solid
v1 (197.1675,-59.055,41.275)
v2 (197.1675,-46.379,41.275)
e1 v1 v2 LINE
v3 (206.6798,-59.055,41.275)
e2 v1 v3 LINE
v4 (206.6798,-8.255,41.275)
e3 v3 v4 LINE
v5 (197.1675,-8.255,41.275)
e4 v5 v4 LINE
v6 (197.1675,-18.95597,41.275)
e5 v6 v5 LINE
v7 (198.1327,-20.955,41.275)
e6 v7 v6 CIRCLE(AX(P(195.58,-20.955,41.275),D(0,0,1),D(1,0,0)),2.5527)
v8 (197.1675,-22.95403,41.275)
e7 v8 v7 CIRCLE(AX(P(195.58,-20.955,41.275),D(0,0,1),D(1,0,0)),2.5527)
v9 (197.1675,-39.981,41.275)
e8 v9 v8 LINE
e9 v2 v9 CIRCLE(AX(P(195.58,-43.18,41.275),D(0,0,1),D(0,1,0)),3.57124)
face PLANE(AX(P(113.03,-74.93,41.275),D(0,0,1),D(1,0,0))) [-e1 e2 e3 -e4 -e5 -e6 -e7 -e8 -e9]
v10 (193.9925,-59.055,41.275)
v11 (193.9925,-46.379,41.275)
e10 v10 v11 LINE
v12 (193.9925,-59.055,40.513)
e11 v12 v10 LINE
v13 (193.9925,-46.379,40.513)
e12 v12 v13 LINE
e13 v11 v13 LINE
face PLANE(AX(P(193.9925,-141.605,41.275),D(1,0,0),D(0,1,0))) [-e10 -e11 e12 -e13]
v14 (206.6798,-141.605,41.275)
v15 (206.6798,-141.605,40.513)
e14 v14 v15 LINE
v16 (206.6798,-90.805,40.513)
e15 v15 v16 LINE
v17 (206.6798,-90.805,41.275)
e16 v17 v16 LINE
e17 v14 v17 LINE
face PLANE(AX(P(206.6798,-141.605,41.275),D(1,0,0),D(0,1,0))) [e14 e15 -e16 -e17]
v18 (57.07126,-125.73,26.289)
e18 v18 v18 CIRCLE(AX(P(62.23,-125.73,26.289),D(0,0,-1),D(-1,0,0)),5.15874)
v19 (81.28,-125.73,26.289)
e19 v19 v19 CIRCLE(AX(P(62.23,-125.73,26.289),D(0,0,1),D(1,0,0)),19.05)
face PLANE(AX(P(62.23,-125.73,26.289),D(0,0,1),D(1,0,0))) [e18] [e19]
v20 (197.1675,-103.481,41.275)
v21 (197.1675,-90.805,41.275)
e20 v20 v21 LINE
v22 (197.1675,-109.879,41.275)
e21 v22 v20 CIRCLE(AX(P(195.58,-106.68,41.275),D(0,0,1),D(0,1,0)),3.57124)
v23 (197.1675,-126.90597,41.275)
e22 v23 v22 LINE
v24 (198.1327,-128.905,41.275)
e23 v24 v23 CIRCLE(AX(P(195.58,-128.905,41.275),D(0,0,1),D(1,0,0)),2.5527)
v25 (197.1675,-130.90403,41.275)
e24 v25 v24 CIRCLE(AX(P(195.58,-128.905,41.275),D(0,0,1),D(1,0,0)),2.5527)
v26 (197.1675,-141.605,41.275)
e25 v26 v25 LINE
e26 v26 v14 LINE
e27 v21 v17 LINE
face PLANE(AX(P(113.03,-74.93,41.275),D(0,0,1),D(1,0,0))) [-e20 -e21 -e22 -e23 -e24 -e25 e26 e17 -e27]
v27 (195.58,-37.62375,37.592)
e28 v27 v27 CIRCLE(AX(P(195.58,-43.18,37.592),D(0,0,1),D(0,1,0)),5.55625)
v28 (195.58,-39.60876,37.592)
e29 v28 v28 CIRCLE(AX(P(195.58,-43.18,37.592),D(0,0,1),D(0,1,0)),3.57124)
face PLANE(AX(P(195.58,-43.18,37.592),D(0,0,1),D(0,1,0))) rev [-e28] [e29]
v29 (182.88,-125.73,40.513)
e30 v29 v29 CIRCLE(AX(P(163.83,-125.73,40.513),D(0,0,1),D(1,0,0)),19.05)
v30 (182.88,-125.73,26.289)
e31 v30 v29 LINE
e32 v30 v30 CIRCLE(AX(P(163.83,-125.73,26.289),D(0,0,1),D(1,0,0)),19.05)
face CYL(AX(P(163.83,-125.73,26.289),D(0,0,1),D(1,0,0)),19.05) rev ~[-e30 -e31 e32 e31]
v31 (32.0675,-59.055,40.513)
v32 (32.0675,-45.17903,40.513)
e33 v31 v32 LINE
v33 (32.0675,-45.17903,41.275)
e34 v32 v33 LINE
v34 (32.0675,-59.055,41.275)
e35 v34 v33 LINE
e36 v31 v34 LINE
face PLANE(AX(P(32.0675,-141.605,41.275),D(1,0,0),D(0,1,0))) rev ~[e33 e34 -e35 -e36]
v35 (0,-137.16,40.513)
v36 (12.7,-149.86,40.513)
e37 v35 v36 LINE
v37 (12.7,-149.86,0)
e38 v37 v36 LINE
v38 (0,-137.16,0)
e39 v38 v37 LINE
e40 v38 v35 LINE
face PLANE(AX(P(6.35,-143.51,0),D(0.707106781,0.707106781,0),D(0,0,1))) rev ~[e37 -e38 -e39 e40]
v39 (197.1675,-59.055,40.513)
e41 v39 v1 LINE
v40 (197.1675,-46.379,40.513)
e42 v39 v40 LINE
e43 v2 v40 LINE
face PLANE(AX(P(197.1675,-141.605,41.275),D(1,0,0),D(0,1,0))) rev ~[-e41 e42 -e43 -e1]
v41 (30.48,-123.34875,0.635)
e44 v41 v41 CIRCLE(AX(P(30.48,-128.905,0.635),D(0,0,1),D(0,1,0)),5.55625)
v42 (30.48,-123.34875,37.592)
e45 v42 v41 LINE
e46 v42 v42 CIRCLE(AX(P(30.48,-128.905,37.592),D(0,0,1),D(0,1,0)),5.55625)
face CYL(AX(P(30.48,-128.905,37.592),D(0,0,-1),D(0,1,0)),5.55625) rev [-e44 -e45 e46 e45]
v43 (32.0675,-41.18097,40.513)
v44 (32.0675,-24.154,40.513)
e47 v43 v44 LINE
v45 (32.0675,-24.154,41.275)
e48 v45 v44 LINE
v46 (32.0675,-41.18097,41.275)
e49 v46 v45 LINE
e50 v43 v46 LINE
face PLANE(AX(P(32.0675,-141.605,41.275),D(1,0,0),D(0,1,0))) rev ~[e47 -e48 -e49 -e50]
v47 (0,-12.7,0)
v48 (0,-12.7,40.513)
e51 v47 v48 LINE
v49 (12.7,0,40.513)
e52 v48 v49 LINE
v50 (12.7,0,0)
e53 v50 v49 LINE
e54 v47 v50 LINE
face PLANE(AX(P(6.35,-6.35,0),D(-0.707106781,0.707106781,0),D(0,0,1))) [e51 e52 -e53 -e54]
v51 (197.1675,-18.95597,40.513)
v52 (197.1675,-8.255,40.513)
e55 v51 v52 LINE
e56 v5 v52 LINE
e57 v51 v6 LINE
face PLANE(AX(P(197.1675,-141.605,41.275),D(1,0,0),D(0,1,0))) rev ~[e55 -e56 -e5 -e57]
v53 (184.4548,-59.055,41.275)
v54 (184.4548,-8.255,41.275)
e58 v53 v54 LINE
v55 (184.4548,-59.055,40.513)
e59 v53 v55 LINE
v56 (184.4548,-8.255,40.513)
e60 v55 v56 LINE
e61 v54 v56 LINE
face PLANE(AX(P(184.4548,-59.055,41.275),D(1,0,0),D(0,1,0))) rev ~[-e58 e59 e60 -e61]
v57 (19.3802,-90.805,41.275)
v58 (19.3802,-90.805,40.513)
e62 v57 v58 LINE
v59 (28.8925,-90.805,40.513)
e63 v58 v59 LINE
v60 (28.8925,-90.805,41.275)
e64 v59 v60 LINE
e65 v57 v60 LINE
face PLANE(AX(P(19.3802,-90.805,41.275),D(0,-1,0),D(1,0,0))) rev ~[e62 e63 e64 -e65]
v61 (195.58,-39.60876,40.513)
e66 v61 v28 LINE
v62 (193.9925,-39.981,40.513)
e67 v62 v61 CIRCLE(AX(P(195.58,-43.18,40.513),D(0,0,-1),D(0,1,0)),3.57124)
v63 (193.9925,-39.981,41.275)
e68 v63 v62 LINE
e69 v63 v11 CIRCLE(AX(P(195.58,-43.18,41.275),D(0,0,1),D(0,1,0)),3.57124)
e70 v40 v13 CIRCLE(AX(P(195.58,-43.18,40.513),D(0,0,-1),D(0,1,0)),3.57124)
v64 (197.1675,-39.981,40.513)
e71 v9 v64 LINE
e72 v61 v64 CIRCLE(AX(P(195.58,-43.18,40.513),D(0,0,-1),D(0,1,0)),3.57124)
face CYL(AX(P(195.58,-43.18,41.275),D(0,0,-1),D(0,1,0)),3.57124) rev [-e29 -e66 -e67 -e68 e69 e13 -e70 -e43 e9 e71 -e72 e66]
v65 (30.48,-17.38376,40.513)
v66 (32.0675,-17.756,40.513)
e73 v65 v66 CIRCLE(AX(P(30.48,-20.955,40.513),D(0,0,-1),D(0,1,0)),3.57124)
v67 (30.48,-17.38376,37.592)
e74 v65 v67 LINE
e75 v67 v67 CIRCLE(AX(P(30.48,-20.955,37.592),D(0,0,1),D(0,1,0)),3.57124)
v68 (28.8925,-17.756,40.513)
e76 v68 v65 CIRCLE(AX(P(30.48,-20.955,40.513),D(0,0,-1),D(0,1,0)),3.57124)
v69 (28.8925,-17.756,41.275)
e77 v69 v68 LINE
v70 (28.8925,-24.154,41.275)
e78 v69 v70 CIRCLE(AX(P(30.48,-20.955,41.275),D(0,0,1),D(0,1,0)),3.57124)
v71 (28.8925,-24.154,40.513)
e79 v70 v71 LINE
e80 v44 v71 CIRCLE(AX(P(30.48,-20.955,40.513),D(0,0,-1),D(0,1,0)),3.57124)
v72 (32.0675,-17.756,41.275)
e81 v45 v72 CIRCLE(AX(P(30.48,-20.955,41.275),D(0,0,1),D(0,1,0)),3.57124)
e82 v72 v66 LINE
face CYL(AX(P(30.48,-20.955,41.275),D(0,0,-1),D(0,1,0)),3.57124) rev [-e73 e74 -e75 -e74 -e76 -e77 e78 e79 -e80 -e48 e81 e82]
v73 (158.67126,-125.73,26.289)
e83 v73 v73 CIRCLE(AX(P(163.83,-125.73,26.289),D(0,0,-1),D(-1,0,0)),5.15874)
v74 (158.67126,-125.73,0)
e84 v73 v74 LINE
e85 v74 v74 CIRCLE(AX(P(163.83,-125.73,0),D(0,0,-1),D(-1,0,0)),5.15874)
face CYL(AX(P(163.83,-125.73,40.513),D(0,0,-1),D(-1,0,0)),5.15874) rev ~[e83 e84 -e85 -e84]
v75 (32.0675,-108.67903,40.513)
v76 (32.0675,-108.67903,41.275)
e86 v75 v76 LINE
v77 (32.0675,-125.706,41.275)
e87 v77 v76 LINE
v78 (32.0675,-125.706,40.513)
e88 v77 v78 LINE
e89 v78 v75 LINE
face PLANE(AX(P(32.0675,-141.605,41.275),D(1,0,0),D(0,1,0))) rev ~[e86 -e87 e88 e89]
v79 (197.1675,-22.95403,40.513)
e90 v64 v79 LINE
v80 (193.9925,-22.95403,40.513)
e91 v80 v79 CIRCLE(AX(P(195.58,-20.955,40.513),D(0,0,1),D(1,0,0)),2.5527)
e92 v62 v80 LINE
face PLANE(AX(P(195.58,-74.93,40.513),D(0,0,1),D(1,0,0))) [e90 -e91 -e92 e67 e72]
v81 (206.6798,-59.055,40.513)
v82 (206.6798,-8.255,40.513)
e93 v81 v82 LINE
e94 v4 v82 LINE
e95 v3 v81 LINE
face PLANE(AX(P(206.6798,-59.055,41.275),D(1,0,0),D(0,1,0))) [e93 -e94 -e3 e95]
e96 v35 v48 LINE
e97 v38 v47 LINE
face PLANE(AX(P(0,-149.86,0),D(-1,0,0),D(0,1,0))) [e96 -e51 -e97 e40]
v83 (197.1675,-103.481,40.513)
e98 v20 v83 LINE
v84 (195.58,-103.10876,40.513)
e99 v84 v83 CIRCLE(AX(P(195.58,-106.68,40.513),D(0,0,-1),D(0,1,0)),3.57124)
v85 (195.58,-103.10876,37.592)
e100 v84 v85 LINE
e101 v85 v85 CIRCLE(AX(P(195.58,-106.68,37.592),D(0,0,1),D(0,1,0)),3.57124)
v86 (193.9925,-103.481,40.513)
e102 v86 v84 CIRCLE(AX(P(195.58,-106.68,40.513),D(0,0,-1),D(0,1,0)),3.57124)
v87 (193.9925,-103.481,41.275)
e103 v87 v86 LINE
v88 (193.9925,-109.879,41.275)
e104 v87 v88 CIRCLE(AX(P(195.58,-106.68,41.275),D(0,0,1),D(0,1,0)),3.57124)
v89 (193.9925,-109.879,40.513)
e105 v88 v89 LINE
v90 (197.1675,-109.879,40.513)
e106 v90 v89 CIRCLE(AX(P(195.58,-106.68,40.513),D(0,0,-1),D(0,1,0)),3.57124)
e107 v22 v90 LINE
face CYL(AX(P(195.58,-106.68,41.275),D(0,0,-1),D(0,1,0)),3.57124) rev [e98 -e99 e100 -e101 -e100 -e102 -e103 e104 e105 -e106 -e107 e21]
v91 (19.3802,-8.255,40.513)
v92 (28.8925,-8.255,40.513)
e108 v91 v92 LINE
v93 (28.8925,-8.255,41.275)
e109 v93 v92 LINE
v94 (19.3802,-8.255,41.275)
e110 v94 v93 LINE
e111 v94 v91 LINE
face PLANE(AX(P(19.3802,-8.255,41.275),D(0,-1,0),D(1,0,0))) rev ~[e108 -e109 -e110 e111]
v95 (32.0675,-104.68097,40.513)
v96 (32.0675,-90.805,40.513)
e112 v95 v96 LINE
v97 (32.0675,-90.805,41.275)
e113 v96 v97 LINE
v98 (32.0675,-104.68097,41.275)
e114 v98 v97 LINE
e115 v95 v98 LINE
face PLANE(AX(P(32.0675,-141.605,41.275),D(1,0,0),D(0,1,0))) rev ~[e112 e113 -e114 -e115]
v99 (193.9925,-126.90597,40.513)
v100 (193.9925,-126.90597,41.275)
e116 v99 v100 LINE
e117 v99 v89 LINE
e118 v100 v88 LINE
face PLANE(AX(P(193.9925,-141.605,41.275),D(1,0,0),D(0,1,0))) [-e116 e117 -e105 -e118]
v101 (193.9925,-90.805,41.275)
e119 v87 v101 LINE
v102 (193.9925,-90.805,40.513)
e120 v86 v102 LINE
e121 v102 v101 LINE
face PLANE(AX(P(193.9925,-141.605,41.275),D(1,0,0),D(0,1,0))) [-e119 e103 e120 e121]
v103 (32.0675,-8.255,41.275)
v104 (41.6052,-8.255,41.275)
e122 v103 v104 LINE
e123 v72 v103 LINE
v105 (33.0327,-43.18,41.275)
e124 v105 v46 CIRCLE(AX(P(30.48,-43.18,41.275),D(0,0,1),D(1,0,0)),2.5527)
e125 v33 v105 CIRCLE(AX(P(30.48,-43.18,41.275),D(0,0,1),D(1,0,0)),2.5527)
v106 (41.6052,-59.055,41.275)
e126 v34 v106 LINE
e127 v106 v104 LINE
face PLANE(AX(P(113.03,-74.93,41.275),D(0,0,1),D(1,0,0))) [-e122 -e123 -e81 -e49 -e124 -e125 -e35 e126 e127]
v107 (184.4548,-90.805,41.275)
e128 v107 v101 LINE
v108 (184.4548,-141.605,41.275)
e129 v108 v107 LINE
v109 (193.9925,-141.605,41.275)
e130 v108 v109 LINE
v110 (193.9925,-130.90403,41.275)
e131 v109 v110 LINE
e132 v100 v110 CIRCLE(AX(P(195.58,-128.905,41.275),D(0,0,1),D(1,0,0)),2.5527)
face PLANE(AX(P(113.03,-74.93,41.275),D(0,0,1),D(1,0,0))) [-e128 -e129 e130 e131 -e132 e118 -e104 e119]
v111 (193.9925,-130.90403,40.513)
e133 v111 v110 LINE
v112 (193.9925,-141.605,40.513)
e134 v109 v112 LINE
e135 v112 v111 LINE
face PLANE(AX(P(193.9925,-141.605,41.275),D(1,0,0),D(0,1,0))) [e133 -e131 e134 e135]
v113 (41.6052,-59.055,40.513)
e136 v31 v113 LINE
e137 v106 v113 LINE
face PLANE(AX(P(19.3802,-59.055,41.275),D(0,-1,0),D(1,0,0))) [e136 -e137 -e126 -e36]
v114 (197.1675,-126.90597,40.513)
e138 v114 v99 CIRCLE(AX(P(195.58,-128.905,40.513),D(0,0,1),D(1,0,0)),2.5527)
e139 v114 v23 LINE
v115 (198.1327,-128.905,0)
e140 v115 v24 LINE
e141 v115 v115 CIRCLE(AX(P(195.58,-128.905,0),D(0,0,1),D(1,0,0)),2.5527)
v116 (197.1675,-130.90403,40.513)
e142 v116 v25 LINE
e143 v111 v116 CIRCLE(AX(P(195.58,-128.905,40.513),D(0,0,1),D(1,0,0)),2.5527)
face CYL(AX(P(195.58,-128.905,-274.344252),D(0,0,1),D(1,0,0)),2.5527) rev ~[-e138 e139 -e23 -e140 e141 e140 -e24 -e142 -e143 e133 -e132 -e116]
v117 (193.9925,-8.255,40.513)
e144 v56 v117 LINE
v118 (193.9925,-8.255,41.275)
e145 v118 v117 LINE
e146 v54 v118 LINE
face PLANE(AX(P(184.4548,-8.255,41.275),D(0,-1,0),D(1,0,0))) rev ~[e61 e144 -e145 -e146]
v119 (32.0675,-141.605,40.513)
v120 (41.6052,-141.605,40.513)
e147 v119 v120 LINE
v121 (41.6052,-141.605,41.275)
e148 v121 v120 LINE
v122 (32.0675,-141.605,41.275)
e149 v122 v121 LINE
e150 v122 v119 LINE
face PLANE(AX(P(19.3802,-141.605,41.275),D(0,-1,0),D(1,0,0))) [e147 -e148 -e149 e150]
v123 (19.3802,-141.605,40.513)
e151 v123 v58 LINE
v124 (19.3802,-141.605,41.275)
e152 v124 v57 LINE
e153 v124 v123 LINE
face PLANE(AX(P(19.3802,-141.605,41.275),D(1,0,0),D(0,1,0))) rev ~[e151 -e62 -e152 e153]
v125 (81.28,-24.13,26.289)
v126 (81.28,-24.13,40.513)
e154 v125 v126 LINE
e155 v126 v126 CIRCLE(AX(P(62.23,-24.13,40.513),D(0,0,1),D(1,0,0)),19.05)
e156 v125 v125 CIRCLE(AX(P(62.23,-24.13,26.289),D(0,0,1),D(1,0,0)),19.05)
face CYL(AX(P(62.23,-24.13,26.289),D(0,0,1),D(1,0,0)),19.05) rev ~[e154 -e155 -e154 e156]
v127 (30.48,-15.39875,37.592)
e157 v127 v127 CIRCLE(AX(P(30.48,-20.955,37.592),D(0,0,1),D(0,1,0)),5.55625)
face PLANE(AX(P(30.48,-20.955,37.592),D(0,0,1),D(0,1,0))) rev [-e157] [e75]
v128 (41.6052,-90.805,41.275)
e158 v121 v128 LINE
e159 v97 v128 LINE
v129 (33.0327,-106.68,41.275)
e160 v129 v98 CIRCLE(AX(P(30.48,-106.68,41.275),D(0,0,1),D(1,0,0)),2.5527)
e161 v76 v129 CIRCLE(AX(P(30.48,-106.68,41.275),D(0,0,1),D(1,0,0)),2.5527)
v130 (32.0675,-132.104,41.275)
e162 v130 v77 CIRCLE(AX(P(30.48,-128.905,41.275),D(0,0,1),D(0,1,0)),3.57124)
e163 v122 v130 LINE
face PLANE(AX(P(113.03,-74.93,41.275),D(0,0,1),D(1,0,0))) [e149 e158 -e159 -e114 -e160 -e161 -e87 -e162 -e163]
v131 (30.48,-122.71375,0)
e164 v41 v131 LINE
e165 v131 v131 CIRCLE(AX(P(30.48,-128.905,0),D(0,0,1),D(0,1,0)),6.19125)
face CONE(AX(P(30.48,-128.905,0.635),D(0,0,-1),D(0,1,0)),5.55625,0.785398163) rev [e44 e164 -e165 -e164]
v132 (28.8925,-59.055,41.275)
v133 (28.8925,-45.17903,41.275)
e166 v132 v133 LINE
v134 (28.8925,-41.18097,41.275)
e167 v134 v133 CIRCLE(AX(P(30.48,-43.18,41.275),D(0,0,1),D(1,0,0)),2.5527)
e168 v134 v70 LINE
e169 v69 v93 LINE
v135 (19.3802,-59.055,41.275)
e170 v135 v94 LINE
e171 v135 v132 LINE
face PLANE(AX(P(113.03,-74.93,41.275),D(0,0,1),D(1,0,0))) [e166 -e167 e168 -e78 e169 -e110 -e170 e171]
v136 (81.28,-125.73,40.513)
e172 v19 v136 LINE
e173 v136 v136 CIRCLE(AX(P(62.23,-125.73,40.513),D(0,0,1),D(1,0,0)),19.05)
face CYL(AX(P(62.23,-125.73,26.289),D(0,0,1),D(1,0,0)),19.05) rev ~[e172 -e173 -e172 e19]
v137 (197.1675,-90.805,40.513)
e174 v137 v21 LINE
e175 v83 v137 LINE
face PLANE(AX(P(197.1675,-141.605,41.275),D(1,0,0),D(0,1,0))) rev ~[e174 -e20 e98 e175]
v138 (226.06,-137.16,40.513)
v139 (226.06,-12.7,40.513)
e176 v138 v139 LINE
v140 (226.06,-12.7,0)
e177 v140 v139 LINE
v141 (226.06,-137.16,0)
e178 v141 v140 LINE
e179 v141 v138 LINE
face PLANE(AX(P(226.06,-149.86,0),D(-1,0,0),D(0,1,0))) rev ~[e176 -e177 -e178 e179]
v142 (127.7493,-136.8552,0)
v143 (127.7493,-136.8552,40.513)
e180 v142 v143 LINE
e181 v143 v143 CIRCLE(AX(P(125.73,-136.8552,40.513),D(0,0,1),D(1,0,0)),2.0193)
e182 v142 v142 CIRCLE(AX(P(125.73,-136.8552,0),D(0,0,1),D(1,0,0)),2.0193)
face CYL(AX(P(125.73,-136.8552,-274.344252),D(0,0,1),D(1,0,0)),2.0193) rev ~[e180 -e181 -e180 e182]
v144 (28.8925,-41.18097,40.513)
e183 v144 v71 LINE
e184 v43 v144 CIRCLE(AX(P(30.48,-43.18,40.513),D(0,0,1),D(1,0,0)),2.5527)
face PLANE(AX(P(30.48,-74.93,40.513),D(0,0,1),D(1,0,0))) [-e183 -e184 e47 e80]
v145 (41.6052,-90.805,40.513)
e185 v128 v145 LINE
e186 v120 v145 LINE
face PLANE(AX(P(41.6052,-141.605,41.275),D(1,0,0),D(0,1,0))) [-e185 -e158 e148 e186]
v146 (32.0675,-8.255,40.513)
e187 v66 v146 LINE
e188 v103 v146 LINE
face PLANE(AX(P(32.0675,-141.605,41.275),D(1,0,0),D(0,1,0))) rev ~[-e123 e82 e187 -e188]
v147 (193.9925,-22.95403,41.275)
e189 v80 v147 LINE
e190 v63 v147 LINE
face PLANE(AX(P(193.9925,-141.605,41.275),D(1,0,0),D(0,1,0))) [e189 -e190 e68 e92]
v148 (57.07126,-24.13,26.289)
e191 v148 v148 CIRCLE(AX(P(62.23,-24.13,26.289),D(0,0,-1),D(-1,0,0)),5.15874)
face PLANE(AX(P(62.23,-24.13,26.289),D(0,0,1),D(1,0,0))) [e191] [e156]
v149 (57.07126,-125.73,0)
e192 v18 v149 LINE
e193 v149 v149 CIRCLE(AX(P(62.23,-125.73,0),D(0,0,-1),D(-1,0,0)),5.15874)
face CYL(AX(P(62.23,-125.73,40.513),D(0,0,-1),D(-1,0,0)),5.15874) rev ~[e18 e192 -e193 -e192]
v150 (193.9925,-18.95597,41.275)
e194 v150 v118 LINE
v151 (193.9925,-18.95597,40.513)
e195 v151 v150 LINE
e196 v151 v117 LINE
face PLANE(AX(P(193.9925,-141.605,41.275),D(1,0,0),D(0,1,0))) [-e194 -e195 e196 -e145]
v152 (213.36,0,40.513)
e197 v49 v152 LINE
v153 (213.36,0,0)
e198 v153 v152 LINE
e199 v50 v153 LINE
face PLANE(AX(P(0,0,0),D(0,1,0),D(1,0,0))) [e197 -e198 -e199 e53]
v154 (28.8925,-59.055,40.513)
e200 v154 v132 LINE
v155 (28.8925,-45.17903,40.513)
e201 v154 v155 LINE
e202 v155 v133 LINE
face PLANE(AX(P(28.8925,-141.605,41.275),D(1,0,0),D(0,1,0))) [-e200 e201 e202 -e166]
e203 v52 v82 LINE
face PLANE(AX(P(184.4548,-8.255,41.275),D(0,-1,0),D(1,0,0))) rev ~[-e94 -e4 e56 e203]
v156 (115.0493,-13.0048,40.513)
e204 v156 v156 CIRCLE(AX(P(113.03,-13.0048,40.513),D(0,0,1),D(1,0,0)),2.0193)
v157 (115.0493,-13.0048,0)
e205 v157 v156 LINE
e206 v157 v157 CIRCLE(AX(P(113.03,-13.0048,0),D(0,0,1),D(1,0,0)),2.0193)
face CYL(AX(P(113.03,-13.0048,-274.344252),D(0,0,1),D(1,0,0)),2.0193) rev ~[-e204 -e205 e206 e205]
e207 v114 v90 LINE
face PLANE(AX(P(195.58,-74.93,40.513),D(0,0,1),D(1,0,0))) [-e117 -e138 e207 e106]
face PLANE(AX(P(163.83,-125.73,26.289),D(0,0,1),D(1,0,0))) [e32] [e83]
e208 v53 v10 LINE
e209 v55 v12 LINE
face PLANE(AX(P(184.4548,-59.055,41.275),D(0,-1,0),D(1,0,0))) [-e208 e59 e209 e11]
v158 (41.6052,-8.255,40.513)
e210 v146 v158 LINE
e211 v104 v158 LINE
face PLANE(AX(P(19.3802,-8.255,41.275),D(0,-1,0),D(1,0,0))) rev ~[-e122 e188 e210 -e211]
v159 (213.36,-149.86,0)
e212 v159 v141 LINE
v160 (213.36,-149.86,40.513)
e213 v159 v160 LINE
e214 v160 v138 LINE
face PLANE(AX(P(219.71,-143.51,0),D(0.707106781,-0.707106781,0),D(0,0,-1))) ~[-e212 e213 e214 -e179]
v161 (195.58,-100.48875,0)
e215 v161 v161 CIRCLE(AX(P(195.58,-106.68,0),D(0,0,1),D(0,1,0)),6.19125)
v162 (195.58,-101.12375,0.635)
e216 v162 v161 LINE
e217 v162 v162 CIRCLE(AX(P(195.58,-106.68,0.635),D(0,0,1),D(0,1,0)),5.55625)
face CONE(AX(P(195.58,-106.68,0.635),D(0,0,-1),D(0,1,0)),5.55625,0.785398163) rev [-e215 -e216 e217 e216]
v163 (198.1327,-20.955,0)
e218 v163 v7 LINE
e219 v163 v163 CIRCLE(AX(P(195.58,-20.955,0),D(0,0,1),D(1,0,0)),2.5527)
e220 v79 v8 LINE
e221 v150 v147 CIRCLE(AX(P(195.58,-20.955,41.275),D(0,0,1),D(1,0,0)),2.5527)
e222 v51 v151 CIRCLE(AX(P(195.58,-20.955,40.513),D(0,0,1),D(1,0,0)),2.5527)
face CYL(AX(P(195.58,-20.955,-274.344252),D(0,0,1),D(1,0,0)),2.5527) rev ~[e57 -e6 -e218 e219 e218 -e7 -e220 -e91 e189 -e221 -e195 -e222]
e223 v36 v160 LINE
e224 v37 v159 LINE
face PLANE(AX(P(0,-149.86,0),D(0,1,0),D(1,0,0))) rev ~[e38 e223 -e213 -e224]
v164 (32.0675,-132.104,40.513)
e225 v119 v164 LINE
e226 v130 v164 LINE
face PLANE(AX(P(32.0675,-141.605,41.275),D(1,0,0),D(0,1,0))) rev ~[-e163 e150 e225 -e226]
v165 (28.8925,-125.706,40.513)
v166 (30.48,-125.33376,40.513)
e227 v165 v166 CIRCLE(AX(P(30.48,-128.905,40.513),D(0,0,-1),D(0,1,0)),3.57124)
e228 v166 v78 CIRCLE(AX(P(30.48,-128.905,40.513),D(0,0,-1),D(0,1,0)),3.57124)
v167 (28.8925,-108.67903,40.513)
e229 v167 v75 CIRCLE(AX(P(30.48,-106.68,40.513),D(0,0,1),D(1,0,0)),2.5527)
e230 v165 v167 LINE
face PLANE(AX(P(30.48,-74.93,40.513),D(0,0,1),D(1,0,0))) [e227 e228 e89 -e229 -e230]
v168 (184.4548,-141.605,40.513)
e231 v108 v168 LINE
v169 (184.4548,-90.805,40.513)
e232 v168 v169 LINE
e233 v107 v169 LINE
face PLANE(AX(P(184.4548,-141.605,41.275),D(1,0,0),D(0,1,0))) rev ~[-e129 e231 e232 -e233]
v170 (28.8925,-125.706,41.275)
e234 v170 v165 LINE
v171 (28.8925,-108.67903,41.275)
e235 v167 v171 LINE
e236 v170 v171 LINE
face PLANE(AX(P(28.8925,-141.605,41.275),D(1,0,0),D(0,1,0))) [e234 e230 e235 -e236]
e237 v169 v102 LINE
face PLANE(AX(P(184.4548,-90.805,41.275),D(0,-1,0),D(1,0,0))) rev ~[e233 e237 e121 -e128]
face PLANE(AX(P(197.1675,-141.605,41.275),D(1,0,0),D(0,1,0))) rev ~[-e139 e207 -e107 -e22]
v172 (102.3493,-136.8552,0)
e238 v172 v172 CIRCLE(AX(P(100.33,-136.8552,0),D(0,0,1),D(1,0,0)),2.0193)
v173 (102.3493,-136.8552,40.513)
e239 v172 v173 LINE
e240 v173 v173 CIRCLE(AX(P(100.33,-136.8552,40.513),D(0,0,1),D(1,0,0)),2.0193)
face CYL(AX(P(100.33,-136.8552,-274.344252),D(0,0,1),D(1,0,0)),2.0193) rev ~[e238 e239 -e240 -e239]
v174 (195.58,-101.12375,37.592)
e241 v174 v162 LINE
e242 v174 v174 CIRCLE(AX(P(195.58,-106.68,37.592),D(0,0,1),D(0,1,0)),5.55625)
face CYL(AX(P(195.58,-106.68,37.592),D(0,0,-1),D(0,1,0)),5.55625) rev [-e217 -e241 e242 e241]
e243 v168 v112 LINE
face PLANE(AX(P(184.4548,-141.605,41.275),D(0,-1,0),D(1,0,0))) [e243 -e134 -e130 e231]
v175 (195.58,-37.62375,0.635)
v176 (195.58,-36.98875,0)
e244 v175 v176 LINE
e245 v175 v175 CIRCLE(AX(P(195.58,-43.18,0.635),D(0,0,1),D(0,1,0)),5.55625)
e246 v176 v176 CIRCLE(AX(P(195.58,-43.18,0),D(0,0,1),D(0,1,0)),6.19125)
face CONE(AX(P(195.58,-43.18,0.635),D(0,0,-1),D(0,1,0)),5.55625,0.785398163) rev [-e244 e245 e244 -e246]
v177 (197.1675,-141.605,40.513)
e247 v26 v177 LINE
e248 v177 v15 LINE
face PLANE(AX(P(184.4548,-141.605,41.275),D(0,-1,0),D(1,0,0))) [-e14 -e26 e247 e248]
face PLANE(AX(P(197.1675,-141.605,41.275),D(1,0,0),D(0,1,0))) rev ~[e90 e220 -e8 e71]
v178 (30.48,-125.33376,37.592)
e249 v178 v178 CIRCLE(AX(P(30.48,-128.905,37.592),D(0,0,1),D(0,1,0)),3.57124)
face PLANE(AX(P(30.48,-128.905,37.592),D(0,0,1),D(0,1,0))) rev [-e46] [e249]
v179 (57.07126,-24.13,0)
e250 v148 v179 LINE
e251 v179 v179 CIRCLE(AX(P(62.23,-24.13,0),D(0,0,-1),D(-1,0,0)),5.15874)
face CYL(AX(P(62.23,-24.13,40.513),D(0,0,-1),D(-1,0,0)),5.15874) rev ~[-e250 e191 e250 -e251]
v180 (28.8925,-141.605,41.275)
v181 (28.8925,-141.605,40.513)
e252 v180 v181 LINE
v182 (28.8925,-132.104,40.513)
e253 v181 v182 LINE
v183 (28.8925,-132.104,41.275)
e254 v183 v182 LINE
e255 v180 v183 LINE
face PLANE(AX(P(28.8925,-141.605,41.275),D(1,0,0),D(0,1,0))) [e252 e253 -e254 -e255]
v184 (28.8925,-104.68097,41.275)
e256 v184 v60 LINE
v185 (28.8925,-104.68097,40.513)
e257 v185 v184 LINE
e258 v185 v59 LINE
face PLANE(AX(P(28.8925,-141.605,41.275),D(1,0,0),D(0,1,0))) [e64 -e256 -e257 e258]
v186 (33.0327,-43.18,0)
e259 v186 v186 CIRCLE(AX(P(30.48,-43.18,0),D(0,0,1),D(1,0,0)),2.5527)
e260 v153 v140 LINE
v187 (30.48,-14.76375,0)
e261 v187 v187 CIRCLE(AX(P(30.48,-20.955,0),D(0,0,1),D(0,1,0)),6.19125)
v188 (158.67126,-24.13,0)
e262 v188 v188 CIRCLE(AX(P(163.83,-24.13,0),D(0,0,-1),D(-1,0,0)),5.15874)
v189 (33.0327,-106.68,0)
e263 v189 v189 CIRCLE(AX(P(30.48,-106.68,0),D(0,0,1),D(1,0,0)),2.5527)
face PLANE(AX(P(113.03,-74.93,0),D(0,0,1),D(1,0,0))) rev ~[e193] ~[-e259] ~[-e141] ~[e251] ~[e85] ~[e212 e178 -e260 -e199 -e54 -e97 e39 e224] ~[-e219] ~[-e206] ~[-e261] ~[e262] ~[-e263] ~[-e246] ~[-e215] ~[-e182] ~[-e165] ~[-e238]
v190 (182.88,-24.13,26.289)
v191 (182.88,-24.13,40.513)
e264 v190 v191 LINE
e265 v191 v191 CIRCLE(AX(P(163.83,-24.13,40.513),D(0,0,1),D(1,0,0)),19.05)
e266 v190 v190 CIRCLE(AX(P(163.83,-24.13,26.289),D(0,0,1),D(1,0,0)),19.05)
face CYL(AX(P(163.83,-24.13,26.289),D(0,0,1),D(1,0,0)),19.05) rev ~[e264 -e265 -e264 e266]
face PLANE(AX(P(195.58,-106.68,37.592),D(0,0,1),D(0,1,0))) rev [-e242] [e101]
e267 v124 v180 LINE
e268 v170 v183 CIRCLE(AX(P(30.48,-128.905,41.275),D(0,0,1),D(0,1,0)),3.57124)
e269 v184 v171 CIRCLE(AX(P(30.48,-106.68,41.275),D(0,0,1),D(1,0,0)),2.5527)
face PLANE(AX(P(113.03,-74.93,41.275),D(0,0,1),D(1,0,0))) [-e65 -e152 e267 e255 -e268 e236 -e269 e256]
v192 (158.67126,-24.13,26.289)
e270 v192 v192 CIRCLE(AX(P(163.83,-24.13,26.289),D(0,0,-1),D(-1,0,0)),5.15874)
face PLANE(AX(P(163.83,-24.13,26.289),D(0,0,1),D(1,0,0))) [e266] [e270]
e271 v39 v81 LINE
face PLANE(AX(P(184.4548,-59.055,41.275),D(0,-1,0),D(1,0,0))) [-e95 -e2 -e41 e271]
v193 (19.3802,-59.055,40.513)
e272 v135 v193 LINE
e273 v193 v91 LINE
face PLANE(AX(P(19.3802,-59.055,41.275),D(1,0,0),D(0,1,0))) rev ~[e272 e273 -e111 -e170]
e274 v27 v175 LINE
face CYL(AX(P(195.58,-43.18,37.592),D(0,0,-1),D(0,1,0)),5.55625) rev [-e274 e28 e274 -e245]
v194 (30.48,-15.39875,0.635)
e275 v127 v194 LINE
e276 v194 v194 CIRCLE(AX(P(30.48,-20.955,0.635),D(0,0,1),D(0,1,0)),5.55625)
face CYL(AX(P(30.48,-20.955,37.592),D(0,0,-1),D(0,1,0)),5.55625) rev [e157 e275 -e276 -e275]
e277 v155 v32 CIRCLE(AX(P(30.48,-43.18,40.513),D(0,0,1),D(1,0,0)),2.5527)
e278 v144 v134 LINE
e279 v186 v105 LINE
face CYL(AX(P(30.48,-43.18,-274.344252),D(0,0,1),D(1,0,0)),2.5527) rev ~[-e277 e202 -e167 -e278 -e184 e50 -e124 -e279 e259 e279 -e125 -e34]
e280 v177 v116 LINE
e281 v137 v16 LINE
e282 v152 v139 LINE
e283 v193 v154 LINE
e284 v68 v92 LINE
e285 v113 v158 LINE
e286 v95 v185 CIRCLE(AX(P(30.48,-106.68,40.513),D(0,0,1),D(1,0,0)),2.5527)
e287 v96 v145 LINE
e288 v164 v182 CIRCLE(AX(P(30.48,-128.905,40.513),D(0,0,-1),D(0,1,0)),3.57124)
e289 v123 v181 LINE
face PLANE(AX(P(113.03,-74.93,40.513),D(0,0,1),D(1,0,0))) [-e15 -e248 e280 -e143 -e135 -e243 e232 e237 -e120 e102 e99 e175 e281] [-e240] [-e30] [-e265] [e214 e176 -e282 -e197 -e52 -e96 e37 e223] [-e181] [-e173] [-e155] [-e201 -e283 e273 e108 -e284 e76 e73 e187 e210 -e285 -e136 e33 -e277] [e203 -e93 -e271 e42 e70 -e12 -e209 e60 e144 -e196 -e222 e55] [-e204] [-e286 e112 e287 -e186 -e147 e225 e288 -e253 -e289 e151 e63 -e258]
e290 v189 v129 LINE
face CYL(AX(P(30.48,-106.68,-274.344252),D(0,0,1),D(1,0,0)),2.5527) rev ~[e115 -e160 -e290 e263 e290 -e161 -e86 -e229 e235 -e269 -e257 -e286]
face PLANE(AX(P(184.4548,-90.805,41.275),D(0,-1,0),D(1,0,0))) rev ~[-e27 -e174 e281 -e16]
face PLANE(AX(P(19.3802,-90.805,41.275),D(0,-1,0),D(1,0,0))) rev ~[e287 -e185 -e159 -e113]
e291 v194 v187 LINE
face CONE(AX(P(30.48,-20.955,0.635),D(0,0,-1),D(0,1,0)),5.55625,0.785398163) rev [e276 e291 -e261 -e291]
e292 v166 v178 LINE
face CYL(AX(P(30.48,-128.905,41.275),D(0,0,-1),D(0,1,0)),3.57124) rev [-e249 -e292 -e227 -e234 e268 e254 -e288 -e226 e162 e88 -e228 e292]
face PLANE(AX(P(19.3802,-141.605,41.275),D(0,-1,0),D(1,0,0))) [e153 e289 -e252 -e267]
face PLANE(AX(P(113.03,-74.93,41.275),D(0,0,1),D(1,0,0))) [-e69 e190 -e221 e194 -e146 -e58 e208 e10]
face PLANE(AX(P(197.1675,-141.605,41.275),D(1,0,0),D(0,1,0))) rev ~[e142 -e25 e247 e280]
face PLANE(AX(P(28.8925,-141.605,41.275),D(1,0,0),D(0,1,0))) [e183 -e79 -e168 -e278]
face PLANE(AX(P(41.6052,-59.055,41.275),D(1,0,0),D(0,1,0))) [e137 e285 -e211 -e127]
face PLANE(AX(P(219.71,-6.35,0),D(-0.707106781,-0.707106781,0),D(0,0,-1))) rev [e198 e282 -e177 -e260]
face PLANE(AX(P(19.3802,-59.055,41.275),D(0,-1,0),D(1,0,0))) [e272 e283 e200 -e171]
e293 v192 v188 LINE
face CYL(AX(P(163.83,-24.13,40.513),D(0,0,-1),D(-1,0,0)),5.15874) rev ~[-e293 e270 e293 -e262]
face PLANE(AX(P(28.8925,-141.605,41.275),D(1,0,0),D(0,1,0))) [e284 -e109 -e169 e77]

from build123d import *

# Parameters (mm, degrees)
SKETCH3_W                                        = 226.06
SKETCH3_H                                        = 149.86
EXTRUDE2_DEPTH                                   = 41.275
SKETCH4_W                                        = 226.06
SKETCH4_H                                        = 149.86
SKETCH4_W_2                                      = 22.225
SKETCH4_H_2                                      = 50.8
EXTRUDE4_DEPTH                                   = 0.762
CBORE_FOR_1_4_SOCKET_HEAD_CAP_SCREW1_AT_COUNT    = 2
CBORE_FOR_1_4_SOCKET_HEAD_CAP_SCREW1_AT_PITCH    = 186.028991356
CBORE_FOR_1_4_SOCKET_HEAD_CAP_SCREW1_2_COUNT     = 2
CBORE_FOR_1_4_SOCKET_HEAD_CAP_SCREW1_2_PITCH     = 166.589197204
CBORE_FOR_1_4_SOCKET_HEAD_CAP_SCREW1_3_COUNT     = 2
CBORE_FOR_1_4_SOCKET_HEAD_CAP_SCREW1_3_PITCH     = 63.5
F_1_4_20_TAPPED_HOLE1_D                          = 5.1054
CBORE_FOR_3_8_SOCKET_HEAD_CAP_SCREW1_D           = 10.31748
CBORE_FOR_3_8_SOCKET_HEAD_CAP_SCREW1_CBORE_D     = 38.1
CBORE_FOR_3_8_SOCKET_HEAD_CAP_SCREW1_CBORE_DEPTH = 14.224
SKETCH18_W                                       = 3.175
SKETCH18_H                                       = 133.35
CUT_EXTRUDE1_DEPTH                               = 0.762
F_10_32_TAPPED_HOLE1_D                           = 4.0386
CHAMFER1_SIZE                                    = 12.7


with BuildPart() as part:
    # Sketch3 → Extrude2 (new body)
    with BuildSketch(Plane.XY):
        with Locations((113.03, -74.93)):
            Rectangle(SKETCH3_W, SKETCH3_H)
    extrude(amount=EXTRUDE2_DEPTH)

    # Sketch4 → Extrude4 (cut)
    with BuildSketch(Plane.XY.offset(41.275)):
        with Locations((113.03, -74.93)):
            Rectangle(SKETCH4_W, SKETCH4_H)
        with Locations((30.4927, -33.655)):
            Rectangle(SKETCH4_W_2, SKETCH4_H_2, mode=Mode.SUBTRACT)
        with Locations((195.5673, -33.655)):
            Rectangle(SKETCH4_W_2, SKETCH4_H_2, mode=Mode.SUBTRACT)
        with Locations((30.4927, -116.205)):
            Rectangle(SKETCH4_W_2, SKETCH4_H_2, mode=Mode.SUBTRACT)
        with Locations((195.5673, -116.205)):
            Rectangle(SKETCH4_W_2, SKETCH4_H_2, mode=Mode.SUBTRACT)
    extrude(amount=-EXTRUDE4_DEPTH, mode=Mode.SUBTRACT)

    # Sketch9 → CBORE for 1/4 Socket Head Cap Screw1 (revolve, cut)
    with BuildSketch(Plane(origin=(195.58, -106.68, 0), x_dir=(0, 1, 0), z_dir=(1, 0, 0))):
        Polygon((0, 0), (0, 41.275), (3.57124, 41.275), (3.57124, 37.592), (5.55625, 37.592), (5.55625, 0.635), (6.19125, 0), align=None)
    cbore_for_1_4_socket_head_cap_screw1 = revolve(axis=Axis((195.58, -106.68, -6.35), (0, 0, 1)), mode=Mode.SUBTRACT)

    # CBORE for 1/4 Socket Head Cap Screw1 at: CBORE for 1/4 Socket Head Cap Screw1 ×2
    with Locations(*[Vector(-0.887496077, 0.460815271, 0) * (i * CBORE_FOR_1_4_SOCKET_HEAD_CAP_SCREW1_AT_PITCH) for i in range(1, CBORE_FOR_1_4_SOCKET_HEAD_CAP_SCREW1_AT_COUNT)]):
        add(cbore_for_1_4_socket_head_cap_screw1, mode=Mode.SUBTRACT)

    # CBORE for 1_4 Socket Head Cap Screw1 2: CBORE for 1/4 Socket Head Cap Screw1 ×2
    with Locations(*[Vector(-0.991060662, -0.133412012, 0) * (i * CBORE_FOR_1_4_SOCKET_HEAD_CAP_SCREW1_2_PITCH) for i in range(1, CBORE_FOR_1_4_SOCKET_HEAD_CAP_SCREW1_2_COUNT)]):
        add(cbore_for_1_4_socket_head_cap_screw1, mode=Mode.SUBTRACT)

    # CBORE for 1_4 Socket Head Cap Screw1 3: CBORE for 1/4 Socket Head Cap Screw1 ×2
    with Locations(*[(0, i * CBORE_FOR_1_4_SOCKET_HEAD_CAP_SCREW1_3_PITCH, 0) for i in range(1, CBORE_FOR_1_4_SOCKET_HEAD_CAP_SCREW1_3_COUNT)]):
        add(cbore_for_1_4_socket_head_cap_screw1, mode=Mode.SUBTRACT)

    # 1/4-20 Tapped Hole1 (through all)
    with Locations(Plane(origin=(0, 0, 0), x_dir=(-1, 0, 0), z_dir=(0, 0, -1))):
        with Locations((-195.58, -20.955), (-195.58, -128.905), (-30.48, -43.18), (-30.48, -106.68)):
            Hole(F_1_4_20_TAPPED_HOLE1_D / 2)

    # CBORE for 3/8 Socket Head Cap Screw1 (through all)
    with Locations(Plane.XY.offset(40.513)):
        with Locations((163.83, -125.73), (62.23, -125.73), (163.83, -24.13), (62.23, -24.13)):
            CounterBoreHole(CBORE_FOR_3_8_SOCKET_HEAD_CAP_SCREW1_D / 2, CBORE_FOR_3_8_SOCKET_HEAD_CAP_SCREW1_CBORE_D / 2, CBORE_FOR_3_8_SOCKET_HEAD_CAP_SCREW1_CBORE_DEPTH)

    # Sketch18 → Cut-Extrude1 (cut)
    with BuildSketch(Plane.XY.offset(41.275)):
        with Locations((30.48, -74.93)):
            Rectangle(SKETCH18_W, SKETCH18_H)
        with Locations((195.58, -74.93)):
            Rectangle(SKETCH18_W, SKETCH18_H)
    extrude(amount=-CUT_EXTRUDE1_DEPTH, mode=Mode.SUBTRACT)

    # #10-32 Tapped Hole1 (through all)
    with Locations(Plane(origin=(0, 0, 0), x_dir=(-1, 0, 0), z_dir=(0, 0, -1))):
        with Locations((-113.03, -13.0048), (-100.33, -136.8552), (-125.73, -136.8552)):
            Hole(F_10_32_TAPPED_HOLE1_D / 2)

    # Chamfer1
    chamfer1_edges = [part.edges().sort_by_distance(p)[0] for p in [
        (0, 0, 20.2565),
        (226.06, 0, 20.2565),
        (226.06, -149.86, 20.2565),
        (0, -149.86, 20.2565),
    ]]
    chamfer(chamfer1_edges, length=CHAMFER1_SIZE)


solid = part.part
